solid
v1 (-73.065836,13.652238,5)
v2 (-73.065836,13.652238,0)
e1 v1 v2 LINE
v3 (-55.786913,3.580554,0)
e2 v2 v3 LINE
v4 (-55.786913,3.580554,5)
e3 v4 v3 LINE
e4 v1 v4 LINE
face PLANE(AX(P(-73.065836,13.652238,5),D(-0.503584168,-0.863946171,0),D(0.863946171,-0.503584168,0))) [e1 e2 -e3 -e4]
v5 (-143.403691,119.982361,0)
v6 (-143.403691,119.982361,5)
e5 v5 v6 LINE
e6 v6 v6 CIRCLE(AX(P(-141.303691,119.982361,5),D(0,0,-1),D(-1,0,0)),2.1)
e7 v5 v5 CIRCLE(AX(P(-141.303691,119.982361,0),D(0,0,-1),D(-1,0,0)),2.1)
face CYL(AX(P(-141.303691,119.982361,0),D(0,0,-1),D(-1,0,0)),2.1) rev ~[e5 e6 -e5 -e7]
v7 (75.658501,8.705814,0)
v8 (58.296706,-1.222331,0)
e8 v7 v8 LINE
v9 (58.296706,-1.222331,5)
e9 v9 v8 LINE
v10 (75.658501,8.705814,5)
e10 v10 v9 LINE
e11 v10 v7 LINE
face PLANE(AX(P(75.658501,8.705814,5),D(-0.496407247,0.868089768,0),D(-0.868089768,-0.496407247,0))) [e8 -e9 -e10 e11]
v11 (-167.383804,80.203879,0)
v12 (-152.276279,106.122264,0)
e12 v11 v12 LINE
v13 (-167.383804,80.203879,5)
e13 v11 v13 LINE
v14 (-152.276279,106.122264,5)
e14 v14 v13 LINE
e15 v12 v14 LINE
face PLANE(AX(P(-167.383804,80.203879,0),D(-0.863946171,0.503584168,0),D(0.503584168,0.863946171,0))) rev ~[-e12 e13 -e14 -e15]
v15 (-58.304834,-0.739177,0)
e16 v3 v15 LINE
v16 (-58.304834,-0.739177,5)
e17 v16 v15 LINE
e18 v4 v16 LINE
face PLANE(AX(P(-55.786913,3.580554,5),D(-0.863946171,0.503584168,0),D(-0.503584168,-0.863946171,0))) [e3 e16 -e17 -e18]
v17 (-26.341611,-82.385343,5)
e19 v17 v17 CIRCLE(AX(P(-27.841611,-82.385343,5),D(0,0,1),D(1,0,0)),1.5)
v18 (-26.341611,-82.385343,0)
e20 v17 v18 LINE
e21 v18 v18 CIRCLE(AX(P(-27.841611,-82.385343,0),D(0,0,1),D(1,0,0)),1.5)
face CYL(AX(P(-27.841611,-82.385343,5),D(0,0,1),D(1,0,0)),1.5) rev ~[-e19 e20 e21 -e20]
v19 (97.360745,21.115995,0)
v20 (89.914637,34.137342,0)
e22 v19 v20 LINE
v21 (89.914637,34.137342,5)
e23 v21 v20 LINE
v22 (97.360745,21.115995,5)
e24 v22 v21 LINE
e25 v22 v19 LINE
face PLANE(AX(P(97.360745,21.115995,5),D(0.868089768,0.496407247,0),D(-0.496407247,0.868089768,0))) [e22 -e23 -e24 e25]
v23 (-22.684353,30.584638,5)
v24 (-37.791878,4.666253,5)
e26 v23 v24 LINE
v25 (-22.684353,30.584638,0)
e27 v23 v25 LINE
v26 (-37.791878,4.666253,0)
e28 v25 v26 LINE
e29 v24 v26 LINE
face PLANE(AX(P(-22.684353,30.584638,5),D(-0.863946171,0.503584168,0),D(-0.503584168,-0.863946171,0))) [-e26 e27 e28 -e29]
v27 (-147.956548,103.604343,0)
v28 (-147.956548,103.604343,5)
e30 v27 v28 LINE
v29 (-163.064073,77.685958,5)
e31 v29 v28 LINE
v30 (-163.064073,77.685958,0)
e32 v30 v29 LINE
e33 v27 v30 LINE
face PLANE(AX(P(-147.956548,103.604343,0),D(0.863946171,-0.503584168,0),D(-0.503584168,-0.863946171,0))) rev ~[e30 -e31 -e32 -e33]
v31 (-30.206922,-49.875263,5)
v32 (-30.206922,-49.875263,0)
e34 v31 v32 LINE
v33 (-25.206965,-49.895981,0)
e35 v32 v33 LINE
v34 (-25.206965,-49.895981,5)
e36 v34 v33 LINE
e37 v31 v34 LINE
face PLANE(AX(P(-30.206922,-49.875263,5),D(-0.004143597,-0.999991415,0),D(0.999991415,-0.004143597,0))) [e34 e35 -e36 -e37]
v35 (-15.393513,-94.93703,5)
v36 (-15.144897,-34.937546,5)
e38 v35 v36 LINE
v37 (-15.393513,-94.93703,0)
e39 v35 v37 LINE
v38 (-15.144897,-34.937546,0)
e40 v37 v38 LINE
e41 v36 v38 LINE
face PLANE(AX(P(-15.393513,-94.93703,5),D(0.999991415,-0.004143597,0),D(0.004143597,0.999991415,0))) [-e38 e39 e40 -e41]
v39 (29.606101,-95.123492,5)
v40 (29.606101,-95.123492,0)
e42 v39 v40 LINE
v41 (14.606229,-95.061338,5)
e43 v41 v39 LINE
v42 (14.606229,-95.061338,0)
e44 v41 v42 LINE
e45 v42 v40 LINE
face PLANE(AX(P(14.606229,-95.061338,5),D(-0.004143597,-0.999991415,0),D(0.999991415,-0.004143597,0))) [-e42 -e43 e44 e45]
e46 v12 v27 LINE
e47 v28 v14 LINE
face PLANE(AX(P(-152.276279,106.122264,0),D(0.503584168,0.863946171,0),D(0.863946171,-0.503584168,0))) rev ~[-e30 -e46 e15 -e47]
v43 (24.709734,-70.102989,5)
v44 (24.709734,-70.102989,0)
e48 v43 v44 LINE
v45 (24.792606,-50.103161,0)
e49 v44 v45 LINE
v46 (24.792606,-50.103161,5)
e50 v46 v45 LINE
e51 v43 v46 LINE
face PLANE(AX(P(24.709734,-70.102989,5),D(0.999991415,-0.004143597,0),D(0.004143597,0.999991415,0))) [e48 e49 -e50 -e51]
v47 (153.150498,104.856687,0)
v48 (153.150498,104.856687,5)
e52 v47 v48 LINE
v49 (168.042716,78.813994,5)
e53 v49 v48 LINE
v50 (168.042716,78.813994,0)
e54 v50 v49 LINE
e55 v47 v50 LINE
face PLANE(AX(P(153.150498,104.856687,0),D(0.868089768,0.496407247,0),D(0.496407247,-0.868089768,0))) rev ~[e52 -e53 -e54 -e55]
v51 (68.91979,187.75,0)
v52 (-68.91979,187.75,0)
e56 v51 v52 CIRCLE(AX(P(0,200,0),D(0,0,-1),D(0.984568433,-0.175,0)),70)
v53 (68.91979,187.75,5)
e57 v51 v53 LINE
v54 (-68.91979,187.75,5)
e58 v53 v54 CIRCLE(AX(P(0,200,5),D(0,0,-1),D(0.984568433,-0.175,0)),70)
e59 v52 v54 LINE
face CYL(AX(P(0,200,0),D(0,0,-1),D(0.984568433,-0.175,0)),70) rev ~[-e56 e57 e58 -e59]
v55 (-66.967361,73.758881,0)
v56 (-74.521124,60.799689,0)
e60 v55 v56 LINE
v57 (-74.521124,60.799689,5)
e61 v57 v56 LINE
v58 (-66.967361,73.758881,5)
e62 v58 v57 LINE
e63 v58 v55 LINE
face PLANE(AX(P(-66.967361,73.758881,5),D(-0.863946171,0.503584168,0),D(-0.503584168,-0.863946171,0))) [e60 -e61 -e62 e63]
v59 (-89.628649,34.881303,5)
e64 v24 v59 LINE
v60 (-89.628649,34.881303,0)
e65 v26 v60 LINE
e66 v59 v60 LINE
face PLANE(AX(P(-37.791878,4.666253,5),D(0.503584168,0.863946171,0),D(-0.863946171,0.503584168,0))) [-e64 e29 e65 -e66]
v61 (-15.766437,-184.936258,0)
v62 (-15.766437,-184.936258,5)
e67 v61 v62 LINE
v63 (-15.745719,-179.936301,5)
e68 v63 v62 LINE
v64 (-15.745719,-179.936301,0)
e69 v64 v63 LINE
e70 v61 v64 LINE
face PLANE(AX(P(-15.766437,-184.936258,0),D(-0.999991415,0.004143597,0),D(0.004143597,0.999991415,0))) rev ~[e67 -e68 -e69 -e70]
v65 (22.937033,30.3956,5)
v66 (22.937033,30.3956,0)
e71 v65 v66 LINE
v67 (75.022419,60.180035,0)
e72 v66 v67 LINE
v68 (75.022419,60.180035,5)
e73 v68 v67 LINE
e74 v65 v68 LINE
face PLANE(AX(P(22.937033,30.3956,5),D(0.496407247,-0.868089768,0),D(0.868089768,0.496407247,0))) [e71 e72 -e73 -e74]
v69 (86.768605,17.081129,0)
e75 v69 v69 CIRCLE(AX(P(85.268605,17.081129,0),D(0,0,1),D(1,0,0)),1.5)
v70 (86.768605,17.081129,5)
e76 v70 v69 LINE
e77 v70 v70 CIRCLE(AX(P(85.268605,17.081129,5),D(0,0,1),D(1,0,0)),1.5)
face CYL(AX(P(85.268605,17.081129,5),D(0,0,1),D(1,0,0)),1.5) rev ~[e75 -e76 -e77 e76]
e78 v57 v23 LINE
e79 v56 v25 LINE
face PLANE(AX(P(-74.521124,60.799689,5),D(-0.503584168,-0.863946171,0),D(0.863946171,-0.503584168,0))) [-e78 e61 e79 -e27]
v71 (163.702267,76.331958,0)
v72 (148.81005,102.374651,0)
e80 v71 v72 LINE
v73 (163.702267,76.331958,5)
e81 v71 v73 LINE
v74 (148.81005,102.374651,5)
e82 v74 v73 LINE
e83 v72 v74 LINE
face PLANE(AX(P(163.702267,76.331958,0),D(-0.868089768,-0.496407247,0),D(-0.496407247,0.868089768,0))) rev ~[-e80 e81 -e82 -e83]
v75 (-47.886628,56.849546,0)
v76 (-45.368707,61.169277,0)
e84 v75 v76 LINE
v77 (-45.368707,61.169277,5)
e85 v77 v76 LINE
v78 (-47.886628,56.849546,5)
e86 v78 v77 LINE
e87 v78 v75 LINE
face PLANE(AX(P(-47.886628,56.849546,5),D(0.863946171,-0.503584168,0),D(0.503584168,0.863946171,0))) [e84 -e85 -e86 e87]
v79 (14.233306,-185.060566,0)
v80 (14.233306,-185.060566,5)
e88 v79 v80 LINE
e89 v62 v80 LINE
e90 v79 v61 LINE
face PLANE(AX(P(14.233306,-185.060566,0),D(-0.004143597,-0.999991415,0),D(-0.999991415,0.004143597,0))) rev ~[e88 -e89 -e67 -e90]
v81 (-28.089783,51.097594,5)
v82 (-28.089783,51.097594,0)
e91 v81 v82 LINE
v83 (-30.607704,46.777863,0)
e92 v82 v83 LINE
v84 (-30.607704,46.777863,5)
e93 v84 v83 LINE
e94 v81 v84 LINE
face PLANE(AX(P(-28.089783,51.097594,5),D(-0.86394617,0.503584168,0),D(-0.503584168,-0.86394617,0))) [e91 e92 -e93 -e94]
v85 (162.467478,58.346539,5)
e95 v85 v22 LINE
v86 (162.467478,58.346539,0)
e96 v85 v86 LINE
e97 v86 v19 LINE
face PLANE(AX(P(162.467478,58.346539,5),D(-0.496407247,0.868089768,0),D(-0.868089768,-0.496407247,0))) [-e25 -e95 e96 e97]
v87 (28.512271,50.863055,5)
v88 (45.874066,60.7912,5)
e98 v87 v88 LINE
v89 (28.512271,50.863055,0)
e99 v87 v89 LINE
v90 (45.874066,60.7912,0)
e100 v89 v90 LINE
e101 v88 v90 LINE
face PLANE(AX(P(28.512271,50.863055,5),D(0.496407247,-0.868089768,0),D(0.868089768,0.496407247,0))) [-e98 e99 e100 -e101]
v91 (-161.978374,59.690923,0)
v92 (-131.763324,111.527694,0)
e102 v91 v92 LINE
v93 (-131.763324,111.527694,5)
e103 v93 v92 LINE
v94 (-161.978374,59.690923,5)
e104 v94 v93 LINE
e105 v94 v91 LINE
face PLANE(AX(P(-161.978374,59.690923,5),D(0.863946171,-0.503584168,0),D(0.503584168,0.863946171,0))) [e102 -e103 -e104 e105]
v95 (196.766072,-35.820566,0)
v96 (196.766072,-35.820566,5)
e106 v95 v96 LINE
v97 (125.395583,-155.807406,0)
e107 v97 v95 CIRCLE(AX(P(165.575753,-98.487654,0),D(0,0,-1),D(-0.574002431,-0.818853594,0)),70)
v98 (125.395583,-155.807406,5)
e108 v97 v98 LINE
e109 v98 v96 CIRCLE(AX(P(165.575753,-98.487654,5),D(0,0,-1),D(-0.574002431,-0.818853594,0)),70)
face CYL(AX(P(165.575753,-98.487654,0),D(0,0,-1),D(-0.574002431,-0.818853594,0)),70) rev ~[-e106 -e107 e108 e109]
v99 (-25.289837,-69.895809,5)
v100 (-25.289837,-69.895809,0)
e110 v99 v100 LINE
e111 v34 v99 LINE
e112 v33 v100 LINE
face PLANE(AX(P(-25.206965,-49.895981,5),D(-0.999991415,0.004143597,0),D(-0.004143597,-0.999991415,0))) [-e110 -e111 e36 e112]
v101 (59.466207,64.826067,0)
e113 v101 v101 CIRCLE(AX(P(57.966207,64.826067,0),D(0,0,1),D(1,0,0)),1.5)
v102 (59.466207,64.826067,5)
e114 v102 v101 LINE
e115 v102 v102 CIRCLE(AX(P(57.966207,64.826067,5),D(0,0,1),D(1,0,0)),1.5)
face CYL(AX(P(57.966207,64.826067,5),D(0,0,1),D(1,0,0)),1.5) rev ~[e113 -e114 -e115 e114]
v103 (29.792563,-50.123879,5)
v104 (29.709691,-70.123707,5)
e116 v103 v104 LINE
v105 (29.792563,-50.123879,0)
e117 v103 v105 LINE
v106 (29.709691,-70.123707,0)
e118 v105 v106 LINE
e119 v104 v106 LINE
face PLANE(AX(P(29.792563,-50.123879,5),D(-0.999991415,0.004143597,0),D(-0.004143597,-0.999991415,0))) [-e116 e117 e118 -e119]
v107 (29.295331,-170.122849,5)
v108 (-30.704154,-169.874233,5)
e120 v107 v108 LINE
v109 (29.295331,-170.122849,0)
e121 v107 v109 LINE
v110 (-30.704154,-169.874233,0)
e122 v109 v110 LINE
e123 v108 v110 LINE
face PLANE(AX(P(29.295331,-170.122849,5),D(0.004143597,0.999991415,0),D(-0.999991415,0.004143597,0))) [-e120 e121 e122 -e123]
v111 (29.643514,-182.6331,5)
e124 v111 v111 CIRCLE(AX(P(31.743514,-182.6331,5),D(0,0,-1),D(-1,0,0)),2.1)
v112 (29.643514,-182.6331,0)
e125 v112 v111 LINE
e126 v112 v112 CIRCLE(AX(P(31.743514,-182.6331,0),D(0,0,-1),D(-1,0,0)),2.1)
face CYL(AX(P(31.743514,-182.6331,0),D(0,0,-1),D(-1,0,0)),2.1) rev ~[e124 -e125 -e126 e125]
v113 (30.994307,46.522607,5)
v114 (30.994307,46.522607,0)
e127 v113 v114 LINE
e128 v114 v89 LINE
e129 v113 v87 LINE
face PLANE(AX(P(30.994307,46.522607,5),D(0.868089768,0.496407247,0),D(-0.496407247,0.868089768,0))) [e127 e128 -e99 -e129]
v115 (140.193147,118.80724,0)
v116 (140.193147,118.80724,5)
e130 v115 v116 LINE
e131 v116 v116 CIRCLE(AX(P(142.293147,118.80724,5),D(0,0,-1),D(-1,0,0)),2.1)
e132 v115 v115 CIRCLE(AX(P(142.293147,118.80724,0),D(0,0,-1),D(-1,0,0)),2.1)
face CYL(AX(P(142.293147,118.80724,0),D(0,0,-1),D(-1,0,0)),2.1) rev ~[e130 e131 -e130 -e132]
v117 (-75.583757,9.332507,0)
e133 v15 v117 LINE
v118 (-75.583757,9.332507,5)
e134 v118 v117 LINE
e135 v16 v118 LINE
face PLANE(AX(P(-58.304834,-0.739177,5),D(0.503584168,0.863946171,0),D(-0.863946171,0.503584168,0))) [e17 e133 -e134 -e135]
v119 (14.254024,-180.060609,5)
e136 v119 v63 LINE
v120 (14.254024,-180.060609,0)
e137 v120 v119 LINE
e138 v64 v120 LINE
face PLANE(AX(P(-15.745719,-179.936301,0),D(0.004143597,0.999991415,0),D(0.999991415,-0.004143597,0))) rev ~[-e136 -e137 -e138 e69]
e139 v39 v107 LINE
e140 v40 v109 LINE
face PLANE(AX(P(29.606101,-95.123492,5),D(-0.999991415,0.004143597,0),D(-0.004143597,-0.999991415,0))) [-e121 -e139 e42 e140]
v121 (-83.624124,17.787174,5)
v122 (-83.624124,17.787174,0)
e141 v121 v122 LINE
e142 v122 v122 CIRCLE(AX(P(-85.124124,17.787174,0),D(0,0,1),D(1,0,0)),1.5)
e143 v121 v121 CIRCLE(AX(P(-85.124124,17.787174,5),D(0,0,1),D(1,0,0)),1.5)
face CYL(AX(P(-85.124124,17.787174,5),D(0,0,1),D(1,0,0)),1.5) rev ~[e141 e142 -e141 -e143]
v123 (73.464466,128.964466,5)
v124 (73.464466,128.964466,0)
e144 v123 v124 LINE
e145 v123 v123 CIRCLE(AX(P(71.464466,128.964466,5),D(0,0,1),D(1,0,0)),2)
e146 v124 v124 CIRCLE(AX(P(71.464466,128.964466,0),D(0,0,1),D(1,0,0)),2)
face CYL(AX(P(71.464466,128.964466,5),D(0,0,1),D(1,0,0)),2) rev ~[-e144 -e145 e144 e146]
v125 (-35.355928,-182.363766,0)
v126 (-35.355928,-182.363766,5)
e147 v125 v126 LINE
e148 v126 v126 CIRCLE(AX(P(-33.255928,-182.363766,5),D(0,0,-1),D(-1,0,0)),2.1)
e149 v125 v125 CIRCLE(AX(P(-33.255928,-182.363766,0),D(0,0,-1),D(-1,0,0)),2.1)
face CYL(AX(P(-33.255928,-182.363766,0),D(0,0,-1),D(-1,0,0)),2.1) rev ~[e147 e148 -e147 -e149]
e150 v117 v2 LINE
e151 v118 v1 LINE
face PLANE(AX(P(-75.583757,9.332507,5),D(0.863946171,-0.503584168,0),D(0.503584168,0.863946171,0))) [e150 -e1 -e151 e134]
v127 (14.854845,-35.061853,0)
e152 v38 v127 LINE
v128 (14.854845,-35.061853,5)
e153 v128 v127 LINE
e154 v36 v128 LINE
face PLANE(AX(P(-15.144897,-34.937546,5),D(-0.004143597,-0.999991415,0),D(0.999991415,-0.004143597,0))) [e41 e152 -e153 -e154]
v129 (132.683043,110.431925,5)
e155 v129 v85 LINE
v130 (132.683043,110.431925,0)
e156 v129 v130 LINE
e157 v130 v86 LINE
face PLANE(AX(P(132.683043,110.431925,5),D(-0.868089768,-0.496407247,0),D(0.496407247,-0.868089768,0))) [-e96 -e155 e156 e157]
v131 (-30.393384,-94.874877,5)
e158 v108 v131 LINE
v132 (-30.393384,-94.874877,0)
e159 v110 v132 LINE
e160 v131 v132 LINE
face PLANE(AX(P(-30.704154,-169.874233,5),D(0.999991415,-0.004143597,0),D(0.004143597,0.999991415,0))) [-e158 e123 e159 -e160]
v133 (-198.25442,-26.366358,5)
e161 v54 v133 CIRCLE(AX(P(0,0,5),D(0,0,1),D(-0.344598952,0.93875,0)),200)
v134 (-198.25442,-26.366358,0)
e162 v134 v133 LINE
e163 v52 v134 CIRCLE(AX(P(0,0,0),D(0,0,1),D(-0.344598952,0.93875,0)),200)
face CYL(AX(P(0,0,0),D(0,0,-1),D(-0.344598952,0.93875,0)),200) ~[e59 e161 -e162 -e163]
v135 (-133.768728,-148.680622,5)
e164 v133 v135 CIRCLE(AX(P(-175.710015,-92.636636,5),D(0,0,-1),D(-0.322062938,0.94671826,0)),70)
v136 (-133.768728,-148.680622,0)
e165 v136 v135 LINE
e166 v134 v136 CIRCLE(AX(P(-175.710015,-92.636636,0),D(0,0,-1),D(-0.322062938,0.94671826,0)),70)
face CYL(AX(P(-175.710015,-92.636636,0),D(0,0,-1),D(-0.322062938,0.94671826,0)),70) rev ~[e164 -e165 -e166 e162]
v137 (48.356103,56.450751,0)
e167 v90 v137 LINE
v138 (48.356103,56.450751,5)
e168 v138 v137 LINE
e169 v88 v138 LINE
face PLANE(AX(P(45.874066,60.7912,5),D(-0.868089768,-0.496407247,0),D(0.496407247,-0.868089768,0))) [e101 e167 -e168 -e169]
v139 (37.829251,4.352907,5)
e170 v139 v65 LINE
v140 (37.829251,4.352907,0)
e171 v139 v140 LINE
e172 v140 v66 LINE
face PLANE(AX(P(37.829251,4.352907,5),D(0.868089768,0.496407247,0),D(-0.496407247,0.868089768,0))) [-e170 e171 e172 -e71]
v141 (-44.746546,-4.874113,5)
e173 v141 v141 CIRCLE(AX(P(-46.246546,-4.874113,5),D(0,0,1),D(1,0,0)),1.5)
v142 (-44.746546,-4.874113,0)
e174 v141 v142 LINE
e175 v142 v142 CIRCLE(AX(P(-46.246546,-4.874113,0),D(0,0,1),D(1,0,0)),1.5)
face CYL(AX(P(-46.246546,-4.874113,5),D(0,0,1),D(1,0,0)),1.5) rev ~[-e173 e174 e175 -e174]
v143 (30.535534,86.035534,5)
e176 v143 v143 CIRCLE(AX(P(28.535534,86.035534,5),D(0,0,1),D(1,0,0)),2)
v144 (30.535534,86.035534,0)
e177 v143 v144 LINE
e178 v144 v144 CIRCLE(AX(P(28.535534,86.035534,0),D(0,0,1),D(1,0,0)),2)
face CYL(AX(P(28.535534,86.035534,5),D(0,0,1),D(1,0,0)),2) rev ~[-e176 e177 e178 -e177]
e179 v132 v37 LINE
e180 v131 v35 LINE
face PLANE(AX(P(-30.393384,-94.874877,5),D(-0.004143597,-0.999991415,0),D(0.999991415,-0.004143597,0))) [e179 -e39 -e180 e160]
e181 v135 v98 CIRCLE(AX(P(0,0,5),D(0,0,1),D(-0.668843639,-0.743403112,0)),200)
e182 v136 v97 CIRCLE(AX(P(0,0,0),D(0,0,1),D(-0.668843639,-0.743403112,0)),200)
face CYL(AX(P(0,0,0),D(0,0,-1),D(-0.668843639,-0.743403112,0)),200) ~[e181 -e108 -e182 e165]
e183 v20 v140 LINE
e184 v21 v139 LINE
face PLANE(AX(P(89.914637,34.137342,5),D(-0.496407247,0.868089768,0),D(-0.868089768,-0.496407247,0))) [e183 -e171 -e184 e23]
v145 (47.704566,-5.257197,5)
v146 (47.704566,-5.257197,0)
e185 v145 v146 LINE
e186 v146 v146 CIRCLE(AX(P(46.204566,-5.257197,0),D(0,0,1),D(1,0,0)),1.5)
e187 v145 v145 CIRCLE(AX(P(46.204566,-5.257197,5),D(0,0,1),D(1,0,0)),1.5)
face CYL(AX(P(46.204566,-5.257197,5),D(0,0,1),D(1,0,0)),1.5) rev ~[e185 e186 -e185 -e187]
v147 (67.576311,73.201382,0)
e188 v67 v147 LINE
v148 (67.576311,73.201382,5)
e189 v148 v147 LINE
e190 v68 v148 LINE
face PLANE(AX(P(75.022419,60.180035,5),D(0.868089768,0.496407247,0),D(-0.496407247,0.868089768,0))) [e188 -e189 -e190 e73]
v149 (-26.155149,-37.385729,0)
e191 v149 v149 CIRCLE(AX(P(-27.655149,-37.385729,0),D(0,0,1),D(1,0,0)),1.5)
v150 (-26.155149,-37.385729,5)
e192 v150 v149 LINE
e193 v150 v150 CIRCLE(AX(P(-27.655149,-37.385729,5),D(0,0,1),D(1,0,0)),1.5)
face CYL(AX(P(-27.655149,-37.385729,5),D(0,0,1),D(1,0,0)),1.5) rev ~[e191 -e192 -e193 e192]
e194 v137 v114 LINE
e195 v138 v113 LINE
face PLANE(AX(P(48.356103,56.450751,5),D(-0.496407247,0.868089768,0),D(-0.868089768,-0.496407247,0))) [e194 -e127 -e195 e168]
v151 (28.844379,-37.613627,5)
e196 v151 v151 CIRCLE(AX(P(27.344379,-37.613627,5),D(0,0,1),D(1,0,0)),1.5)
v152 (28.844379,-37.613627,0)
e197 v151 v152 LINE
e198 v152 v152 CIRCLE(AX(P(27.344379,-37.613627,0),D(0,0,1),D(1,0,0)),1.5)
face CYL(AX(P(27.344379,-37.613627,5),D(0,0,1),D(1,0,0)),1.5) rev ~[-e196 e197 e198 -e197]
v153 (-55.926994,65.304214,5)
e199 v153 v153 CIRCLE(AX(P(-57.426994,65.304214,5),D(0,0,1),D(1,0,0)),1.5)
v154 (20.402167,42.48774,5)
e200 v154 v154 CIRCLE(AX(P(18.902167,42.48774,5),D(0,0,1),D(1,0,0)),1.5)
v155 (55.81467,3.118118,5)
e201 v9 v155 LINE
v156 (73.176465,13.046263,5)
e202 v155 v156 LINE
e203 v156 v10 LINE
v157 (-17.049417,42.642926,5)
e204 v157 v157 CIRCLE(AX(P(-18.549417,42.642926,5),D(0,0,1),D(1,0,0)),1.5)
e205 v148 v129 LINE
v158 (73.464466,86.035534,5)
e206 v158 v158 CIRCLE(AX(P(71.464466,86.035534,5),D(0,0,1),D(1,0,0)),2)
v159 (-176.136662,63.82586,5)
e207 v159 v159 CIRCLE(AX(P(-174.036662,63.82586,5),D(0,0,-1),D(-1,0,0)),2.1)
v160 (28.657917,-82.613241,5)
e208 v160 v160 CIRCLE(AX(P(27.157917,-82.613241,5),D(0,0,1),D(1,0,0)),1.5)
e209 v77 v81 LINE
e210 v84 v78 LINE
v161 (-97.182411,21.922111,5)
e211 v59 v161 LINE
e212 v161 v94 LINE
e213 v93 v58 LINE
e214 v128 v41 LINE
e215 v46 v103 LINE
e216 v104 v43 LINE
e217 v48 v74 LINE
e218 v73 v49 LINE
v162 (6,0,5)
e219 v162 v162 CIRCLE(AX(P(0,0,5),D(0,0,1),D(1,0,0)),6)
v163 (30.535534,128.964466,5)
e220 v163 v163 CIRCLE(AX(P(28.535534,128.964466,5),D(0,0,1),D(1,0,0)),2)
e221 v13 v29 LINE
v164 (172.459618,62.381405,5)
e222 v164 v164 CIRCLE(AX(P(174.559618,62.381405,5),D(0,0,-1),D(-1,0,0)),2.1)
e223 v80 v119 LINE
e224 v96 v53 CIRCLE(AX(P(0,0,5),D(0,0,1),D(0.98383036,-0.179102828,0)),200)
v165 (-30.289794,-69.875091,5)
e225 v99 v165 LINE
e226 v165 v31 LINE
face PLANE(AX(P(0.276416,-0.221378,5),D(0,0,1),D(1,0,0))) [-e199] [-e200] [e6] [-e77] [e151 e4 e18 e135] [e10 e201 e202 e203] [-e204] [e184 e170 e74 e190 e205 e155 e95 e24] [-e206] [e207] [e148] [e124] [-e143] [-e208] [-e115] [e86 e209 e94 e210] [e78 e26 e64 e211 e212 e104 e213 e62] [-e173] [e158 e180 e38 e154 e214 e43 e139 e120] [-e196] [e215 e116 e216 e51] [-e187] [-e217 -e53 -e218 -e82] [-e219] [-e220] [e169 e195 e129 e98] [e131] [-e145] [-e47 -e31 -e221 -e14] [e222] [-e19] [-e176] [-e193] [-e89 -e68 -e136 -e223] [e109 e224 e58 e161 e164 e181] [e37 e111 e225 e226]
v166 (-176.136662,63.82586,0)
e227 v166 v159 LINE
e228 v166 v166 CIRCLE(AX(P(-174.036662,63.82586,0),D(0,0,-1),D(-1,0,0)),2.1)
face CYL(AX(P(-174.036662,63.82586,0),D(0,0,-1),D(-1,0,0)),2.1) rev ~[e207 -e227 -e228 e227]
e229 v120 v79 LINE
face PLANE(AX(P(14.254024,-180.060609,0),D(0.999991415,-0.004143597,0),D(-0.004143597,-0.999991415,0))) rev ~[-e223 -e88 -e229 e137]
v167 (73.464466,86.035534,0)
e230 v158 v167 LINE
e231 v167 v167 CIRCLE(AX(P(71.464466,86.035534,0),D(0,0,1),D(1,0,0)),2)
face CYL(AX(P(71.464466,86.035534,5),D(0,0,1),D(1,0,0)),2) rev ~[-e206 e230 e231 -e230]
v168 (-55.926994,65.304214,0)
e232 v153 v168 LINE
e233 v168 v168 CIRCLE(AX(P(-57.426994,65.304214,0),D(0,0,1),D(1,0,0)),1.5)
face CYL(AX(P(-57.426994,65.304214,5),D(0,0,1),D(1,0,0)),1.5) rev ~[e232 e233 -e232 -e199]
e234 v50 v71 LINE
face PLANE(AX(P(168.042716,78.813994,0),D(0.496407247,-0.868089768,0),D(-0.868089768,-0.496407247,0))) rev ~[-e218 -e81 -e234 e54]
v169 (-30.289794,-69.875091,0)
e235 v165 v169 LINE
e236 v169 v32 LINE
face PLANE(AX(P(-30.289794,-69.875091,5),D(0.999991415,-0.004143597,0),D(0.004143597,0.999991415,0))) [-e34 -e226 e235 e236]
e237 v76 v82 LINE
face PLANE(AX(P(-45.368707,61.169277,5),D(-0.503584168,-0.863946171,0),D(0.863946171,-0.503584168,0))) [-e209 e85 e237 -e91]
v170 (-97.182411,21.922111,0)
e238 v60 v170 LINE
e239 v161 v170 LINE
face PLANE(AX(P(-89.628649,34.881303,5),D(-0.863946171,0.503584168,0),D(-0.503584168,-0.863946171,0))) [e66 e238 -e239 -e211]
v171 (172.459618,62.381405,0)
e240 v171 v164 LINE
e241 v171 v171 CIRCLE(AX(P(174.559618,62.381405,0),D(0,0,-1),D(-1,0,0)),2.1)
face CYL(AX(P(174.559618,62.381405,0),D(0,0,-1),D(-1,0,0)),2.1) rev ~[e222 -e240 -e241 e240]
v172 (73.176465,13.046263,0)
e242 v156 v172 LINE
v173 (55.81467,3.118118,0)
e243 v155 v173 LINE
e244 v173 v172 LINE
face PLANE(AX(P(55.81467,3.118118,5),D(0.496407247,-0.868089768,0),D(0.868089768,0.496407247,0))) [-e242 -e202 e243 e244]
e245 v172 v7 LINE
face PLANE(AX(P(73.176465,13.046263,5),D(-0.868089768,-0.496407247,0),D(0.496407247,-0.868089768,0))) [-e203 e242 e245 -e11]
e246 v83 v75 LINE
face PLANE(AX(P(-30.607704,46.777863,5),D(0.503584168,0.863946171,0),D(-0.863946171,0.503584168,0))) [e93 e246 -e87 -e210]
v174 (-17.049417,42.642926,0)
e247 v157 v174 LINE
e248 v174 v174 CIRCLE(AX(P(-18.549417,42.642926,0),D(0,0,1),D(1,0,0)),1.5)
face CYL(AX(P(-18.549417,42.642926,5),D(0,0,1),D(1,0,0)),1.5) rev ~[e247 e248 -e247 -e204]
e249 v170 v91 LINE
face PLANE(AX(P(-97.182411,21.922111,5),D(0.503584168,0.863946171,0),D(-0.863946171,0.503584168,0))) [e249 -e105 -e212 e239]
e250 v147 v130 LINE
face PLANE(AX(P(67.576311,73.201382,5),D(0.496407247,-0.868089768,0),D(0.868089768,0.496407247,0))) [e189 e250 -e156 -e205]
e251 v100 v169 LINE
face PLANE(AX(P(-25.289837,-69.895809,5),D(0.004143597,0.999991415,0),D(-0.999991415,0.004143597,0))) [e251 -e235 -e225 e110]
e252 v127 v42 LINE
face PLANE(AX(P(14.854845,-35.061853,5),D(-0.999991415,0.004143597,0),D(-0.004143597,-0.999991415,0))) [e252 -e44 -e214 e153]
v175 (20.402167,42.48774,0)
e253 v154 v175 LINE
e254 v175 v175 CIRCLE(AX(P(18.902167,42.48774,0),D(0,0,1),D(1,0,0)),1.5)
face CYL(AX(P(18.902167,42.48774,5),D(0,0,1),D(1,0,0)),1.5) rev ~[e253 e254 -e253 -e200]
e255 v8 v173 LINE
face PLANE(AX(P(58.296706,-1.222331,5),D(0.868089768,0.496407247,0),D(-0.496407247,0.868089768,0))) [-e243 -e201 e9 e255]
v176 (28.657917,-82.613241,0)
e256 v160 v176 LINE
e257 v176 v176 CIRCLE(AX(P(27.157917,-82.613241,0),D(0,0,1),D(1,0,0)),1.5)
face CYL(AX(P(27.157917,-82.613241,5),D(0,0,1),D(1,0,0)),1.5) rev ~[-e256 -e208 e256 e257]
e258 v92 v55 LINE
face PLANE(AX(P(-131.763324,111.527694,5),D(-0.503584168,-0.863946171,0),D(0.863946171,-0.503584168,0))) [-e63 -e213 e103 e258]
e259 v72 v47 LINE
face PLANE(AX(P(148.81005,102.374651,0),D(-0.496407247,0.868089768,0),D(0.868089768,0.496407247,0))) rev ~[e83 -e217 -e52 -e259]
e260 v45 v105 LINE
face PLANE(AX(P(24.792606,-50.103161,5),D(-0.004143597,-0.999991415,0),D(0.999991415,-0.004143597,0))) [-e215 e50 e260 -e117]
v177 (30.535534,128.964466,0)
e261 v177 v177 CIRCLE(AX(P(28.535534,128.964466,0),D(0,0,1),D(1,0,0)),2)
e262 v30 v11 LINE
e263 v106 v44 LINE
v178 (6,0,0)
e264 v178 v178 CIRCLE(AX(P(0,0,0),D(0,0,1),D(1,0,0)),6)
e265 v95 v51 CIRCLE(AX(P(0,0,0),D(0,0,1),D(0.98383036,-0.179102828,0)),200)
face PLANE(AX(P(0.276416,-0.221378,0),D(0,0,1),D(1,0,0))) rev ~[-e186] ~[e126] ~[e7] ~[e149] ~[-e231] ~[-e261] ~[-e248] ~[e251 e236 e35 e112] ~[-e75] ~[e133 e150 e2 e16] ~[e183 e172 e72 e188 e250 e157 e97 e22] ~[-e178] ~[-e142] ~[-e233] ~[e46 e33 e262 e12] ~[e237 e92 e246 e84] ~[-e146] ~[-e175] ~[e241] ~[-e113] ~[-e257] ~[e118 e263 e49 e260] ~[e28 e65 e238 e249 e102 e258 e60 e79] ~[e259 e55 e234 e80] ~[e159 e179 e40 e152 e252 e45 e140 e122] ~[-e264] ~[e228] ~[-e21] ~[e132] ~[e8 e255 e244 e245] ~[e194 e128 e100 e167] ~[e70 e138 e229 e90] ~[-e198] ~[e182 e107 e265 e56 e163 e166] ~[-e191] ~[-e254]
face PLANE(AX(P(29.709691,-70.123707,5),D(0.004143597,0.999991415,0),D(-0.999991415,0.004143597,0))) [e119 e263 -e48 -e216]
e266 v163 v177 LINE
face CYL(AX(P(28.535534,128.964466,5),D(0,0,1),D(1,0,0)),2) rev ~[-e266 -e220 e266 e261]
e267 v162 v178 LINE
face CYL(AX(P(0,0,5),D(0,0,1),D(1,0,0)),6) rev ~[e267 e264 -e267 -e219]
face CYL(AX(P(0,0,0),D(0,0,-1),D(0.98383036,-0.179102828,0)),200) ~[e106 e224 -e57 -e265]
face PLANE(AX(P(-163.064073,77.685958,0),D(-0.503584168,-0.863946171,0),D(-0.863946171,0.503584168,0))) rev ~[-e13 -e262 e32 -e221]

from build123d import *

# Parameters (mm, degrees)
BOSS_EXTRUDE1_DEPTH = 5
SKETCH2_R           = 6
CUT_EXTRUDE1_DEPTH  = 6
CUT_EXTRUDE3_DEPTH  = 6
SKETCH4_R           = 1.5
CUT_EXTRUDE4_DEPTH  = 6
SKETCH5_R           = 2
CUT_EXTRUDE5_DEPTH  = 6
SKETCH6_R           = 2.1
CUT_EXTRUDE6_DEPTH  = 6


with BuildPart() as part:
    # Sketch1 → Boss-Extrude1 (new body)
    with BuildSketch(Plane.XY):
        with BuildLine():
            ThreePointArc((-133.768727702, -148.680622439), (-5.497740296, -199.924422849), (125.395583095, -155.807405923))
            ThreePointArc((125.395583095, -155.807405923), (105.414180622, -62.702389546), (196.766071989, -35.820565518))
            ThreePointArc((196.766071989, -35.820565518), (173.617953569, 99.281449418), (68.919790336, 187.75))
            ThreePointArc((68.919790336, 187.75), (0, 130), (-68.919790336, 187.75))
            ThreePointArc((-68.919790336, 187.75), (-171.192781262, 103.407116021), (-198.254420354, -26.366357541))
            ThreePointArc((-198.254420354, -26.366357541), (-113.788656518, -59.99087954), (-133.768727702, -148.680622439))
        make_face()
    extrude(amount=BOSS_EXTRUDE1_DEPTH)

    # Sketch2 → Cut-Extrude1 (cut, through all)
    with BuildSketch(Plane.XY.offset(5)):
        Circle(SKETCH2_R)
    extrude(amount=-CUT_EXTRUDE1_DEPTH, mode=Mode.SUBTRACT)

    # Sketch3 → Cut-Extrude3 (cut, through all)
    with BuildSketch(Plane.XY.offset(5)):
        Polygon((-131.763323944, 111.527693705), (-66.967361155, 73.758881092), (-74.521123677, 60.799688534), (-22.684353446, 30.584638444), (-37.791878491, 4.666253328), (-89.628648723, 34.881303419), (-97.182411245, 21.922110861), (-161.978374035, 59.690923474), align=None)
        Polygon((162.467477946, 58.34653897), (97.360745358, 21.115995438), (89.914636652, 34.137341956), (37.829250581, 4.352907131), (22.937033168, 30.395600166), (75.022419239, 60.180034991), (67.576310532, 73.201381509), (132.683043121, 110.431925041), align=None)
        Polygon((-30.704154002, -169.874232675), (-30.393384203, -94.874876531), (-15.393512974, -94.93703049), (-15.144897135, -34.937545574), (14.854845323, -35.061853494), (14.606229484, -95.06133841), (29.606100713, -95.12349237), (29.295330914, -170.122848514), align=None)
    extrude(amount=-CUT_EXTRUDE3_DEPTH, mode=Mode.SUBTRACT)

    # Sketch4 → Cut-Extrude4 (cut, through all)
    with BuildSketch(Plane.XY.offset(5)):
        with Locations((-57.426994444, 65.304213564)):
            Circle(SKETCH4_R)
        with Locations((-18.54941677, 42.642925996)):
            Circle(SKETCH4_R)
        with Locations((-46.246546019, -4.874113383)):
            Circle(SKETCH4_R)
        with Locations((-85.124123693, 17.787174185)):
            Circle(SKETCH4_R)
        with Locations((85.268605142, 17.081129269)):
            Circle(SKETCH4_R)
        with Locations((46.204565589, -5.25719685)):
            Circle(SKETCH4_R)
        with Locations((18.902166999, 42.487740382)):
            Circle(SKETCH4_R)
        with Locations((57.966206552, 64.826066501)):
            Circle(SKETCH4_R)
        with Locations((-27.841610699, -82.385342833)):
            Circle(SKETCH4_R)
        with Locations((-27.655148819, -37.385729146)):
            Circle(SKETCH4_R)
        with Locations((27.34437902, -37.613626999)):
            Circle(SKETCH4_R)
        with Locations((27.157917141, -82.613240686)):
            Circle(SKETCH4_R)
        Polygon((-75.583756982, 9.332506656), (-73.065836141, 13.652237509), (-55.786912731, 3.580554145), (-58.304833571, -0.739176707), align=None)
        Polygon((-47.886627732, 56.849546035), (-45.368706892, 61.169276888), (-28.089783481, 51.097593524), (-30.607704322, 46.777862672), align=None)
        Polygon((45.874066336, 60.791200332), (48.356102572, 56.450751492), (30.994307215, 46.522606551), (28.512270979, 50.86305539), align=None)
        Polygon((73.176464926, 13.0462631), (75.658501162, 8.705814261), (58.296705805, -1.222330681), (55.814669569, 3.118118158), align=None)
        Polygon((29.709690646, -70.123706988), (24.709733569, -70.102989001), (24.792605516, -50.103160696), (29.792562592, -50.123878683), align=None)
        Polygon((-25.289837194, -69.895809136), (-30.28979427, -69.875091149), (-30.206922324, -49.875262844), (-25.206965248, -49.89598083), align=None)
    extrude(amount=-CUT_EXTRUDE4_DEPTH, mode=Mode.SUBTRACT)

    # Sketch5 → Cut-Extrude5 (cut, through all)
    with BuildSketch(Plane.XY.offset(5)):
        with Locations((71.464466094, 128.964466094)):
            Circle(SKETCH5_R)
        with Locations((71.464466094, 86.035533906)):
            Circle(SKETCH5_R)
        with Locations((28.535533906, 86.035533906)):
            Circle(SKETCH5_R)
        with Locations((28.535533906, 128.964466094)):
            Circle(SKETCH5_R)
    extrude(amount=-CUT_EXTRUDE5_DEPTH, mode=Mode.SUBTRACT)

    # Sketch6 → Cut-Extrude6 (cut, through all)
    with BuildSketch(Plane(origin=(0, 0, 0), x_dir=(-1, 0, 0), z_dir=(0, 0, -1))):
        with Locations((141.303690655, 119.982361234)):
            Circle(SKETCH6_R)
        with Locations((174.036661587, 63.825860149)):
            Circle(SKETCH6_R)
        with Locations((33.255927507, -182.363766373)):
            Circle(SKETCH6_R)
        with Locations((-31.743514485, -182.633100198)):
            Circle(SKETCH6_R)
        with Locations((-174.559618162, 62.381405139)):
            Circle(SKETCH6_R)
        with Locations((-142.293147101, 118.807240049)):
            Circle(SKETCH6_R)
        Polygon((-148.810049506, 102.374650994), (-153.150498345, 104.85668723), (-168.042715757, 78.813994194), (-163.702266918, 76.331957959), align=None)
        Polygon((163.064073217, 77.685957713), (167.38380407, 80.203878554), (152.276279025, 106.12226367), (147.956548172, 103.604342829), align=None)
        Polygon((-14.254023712, -180.060608707), (-14.233305725, -185.060565784), (15.766436733, -184.936257864), (15.745718746, -179.936300788), align=None)
    extrude(amount=-CUT_EXTRUDE6_DEPTH, mode=Mode.SUBTRACT)


solid = part.part
